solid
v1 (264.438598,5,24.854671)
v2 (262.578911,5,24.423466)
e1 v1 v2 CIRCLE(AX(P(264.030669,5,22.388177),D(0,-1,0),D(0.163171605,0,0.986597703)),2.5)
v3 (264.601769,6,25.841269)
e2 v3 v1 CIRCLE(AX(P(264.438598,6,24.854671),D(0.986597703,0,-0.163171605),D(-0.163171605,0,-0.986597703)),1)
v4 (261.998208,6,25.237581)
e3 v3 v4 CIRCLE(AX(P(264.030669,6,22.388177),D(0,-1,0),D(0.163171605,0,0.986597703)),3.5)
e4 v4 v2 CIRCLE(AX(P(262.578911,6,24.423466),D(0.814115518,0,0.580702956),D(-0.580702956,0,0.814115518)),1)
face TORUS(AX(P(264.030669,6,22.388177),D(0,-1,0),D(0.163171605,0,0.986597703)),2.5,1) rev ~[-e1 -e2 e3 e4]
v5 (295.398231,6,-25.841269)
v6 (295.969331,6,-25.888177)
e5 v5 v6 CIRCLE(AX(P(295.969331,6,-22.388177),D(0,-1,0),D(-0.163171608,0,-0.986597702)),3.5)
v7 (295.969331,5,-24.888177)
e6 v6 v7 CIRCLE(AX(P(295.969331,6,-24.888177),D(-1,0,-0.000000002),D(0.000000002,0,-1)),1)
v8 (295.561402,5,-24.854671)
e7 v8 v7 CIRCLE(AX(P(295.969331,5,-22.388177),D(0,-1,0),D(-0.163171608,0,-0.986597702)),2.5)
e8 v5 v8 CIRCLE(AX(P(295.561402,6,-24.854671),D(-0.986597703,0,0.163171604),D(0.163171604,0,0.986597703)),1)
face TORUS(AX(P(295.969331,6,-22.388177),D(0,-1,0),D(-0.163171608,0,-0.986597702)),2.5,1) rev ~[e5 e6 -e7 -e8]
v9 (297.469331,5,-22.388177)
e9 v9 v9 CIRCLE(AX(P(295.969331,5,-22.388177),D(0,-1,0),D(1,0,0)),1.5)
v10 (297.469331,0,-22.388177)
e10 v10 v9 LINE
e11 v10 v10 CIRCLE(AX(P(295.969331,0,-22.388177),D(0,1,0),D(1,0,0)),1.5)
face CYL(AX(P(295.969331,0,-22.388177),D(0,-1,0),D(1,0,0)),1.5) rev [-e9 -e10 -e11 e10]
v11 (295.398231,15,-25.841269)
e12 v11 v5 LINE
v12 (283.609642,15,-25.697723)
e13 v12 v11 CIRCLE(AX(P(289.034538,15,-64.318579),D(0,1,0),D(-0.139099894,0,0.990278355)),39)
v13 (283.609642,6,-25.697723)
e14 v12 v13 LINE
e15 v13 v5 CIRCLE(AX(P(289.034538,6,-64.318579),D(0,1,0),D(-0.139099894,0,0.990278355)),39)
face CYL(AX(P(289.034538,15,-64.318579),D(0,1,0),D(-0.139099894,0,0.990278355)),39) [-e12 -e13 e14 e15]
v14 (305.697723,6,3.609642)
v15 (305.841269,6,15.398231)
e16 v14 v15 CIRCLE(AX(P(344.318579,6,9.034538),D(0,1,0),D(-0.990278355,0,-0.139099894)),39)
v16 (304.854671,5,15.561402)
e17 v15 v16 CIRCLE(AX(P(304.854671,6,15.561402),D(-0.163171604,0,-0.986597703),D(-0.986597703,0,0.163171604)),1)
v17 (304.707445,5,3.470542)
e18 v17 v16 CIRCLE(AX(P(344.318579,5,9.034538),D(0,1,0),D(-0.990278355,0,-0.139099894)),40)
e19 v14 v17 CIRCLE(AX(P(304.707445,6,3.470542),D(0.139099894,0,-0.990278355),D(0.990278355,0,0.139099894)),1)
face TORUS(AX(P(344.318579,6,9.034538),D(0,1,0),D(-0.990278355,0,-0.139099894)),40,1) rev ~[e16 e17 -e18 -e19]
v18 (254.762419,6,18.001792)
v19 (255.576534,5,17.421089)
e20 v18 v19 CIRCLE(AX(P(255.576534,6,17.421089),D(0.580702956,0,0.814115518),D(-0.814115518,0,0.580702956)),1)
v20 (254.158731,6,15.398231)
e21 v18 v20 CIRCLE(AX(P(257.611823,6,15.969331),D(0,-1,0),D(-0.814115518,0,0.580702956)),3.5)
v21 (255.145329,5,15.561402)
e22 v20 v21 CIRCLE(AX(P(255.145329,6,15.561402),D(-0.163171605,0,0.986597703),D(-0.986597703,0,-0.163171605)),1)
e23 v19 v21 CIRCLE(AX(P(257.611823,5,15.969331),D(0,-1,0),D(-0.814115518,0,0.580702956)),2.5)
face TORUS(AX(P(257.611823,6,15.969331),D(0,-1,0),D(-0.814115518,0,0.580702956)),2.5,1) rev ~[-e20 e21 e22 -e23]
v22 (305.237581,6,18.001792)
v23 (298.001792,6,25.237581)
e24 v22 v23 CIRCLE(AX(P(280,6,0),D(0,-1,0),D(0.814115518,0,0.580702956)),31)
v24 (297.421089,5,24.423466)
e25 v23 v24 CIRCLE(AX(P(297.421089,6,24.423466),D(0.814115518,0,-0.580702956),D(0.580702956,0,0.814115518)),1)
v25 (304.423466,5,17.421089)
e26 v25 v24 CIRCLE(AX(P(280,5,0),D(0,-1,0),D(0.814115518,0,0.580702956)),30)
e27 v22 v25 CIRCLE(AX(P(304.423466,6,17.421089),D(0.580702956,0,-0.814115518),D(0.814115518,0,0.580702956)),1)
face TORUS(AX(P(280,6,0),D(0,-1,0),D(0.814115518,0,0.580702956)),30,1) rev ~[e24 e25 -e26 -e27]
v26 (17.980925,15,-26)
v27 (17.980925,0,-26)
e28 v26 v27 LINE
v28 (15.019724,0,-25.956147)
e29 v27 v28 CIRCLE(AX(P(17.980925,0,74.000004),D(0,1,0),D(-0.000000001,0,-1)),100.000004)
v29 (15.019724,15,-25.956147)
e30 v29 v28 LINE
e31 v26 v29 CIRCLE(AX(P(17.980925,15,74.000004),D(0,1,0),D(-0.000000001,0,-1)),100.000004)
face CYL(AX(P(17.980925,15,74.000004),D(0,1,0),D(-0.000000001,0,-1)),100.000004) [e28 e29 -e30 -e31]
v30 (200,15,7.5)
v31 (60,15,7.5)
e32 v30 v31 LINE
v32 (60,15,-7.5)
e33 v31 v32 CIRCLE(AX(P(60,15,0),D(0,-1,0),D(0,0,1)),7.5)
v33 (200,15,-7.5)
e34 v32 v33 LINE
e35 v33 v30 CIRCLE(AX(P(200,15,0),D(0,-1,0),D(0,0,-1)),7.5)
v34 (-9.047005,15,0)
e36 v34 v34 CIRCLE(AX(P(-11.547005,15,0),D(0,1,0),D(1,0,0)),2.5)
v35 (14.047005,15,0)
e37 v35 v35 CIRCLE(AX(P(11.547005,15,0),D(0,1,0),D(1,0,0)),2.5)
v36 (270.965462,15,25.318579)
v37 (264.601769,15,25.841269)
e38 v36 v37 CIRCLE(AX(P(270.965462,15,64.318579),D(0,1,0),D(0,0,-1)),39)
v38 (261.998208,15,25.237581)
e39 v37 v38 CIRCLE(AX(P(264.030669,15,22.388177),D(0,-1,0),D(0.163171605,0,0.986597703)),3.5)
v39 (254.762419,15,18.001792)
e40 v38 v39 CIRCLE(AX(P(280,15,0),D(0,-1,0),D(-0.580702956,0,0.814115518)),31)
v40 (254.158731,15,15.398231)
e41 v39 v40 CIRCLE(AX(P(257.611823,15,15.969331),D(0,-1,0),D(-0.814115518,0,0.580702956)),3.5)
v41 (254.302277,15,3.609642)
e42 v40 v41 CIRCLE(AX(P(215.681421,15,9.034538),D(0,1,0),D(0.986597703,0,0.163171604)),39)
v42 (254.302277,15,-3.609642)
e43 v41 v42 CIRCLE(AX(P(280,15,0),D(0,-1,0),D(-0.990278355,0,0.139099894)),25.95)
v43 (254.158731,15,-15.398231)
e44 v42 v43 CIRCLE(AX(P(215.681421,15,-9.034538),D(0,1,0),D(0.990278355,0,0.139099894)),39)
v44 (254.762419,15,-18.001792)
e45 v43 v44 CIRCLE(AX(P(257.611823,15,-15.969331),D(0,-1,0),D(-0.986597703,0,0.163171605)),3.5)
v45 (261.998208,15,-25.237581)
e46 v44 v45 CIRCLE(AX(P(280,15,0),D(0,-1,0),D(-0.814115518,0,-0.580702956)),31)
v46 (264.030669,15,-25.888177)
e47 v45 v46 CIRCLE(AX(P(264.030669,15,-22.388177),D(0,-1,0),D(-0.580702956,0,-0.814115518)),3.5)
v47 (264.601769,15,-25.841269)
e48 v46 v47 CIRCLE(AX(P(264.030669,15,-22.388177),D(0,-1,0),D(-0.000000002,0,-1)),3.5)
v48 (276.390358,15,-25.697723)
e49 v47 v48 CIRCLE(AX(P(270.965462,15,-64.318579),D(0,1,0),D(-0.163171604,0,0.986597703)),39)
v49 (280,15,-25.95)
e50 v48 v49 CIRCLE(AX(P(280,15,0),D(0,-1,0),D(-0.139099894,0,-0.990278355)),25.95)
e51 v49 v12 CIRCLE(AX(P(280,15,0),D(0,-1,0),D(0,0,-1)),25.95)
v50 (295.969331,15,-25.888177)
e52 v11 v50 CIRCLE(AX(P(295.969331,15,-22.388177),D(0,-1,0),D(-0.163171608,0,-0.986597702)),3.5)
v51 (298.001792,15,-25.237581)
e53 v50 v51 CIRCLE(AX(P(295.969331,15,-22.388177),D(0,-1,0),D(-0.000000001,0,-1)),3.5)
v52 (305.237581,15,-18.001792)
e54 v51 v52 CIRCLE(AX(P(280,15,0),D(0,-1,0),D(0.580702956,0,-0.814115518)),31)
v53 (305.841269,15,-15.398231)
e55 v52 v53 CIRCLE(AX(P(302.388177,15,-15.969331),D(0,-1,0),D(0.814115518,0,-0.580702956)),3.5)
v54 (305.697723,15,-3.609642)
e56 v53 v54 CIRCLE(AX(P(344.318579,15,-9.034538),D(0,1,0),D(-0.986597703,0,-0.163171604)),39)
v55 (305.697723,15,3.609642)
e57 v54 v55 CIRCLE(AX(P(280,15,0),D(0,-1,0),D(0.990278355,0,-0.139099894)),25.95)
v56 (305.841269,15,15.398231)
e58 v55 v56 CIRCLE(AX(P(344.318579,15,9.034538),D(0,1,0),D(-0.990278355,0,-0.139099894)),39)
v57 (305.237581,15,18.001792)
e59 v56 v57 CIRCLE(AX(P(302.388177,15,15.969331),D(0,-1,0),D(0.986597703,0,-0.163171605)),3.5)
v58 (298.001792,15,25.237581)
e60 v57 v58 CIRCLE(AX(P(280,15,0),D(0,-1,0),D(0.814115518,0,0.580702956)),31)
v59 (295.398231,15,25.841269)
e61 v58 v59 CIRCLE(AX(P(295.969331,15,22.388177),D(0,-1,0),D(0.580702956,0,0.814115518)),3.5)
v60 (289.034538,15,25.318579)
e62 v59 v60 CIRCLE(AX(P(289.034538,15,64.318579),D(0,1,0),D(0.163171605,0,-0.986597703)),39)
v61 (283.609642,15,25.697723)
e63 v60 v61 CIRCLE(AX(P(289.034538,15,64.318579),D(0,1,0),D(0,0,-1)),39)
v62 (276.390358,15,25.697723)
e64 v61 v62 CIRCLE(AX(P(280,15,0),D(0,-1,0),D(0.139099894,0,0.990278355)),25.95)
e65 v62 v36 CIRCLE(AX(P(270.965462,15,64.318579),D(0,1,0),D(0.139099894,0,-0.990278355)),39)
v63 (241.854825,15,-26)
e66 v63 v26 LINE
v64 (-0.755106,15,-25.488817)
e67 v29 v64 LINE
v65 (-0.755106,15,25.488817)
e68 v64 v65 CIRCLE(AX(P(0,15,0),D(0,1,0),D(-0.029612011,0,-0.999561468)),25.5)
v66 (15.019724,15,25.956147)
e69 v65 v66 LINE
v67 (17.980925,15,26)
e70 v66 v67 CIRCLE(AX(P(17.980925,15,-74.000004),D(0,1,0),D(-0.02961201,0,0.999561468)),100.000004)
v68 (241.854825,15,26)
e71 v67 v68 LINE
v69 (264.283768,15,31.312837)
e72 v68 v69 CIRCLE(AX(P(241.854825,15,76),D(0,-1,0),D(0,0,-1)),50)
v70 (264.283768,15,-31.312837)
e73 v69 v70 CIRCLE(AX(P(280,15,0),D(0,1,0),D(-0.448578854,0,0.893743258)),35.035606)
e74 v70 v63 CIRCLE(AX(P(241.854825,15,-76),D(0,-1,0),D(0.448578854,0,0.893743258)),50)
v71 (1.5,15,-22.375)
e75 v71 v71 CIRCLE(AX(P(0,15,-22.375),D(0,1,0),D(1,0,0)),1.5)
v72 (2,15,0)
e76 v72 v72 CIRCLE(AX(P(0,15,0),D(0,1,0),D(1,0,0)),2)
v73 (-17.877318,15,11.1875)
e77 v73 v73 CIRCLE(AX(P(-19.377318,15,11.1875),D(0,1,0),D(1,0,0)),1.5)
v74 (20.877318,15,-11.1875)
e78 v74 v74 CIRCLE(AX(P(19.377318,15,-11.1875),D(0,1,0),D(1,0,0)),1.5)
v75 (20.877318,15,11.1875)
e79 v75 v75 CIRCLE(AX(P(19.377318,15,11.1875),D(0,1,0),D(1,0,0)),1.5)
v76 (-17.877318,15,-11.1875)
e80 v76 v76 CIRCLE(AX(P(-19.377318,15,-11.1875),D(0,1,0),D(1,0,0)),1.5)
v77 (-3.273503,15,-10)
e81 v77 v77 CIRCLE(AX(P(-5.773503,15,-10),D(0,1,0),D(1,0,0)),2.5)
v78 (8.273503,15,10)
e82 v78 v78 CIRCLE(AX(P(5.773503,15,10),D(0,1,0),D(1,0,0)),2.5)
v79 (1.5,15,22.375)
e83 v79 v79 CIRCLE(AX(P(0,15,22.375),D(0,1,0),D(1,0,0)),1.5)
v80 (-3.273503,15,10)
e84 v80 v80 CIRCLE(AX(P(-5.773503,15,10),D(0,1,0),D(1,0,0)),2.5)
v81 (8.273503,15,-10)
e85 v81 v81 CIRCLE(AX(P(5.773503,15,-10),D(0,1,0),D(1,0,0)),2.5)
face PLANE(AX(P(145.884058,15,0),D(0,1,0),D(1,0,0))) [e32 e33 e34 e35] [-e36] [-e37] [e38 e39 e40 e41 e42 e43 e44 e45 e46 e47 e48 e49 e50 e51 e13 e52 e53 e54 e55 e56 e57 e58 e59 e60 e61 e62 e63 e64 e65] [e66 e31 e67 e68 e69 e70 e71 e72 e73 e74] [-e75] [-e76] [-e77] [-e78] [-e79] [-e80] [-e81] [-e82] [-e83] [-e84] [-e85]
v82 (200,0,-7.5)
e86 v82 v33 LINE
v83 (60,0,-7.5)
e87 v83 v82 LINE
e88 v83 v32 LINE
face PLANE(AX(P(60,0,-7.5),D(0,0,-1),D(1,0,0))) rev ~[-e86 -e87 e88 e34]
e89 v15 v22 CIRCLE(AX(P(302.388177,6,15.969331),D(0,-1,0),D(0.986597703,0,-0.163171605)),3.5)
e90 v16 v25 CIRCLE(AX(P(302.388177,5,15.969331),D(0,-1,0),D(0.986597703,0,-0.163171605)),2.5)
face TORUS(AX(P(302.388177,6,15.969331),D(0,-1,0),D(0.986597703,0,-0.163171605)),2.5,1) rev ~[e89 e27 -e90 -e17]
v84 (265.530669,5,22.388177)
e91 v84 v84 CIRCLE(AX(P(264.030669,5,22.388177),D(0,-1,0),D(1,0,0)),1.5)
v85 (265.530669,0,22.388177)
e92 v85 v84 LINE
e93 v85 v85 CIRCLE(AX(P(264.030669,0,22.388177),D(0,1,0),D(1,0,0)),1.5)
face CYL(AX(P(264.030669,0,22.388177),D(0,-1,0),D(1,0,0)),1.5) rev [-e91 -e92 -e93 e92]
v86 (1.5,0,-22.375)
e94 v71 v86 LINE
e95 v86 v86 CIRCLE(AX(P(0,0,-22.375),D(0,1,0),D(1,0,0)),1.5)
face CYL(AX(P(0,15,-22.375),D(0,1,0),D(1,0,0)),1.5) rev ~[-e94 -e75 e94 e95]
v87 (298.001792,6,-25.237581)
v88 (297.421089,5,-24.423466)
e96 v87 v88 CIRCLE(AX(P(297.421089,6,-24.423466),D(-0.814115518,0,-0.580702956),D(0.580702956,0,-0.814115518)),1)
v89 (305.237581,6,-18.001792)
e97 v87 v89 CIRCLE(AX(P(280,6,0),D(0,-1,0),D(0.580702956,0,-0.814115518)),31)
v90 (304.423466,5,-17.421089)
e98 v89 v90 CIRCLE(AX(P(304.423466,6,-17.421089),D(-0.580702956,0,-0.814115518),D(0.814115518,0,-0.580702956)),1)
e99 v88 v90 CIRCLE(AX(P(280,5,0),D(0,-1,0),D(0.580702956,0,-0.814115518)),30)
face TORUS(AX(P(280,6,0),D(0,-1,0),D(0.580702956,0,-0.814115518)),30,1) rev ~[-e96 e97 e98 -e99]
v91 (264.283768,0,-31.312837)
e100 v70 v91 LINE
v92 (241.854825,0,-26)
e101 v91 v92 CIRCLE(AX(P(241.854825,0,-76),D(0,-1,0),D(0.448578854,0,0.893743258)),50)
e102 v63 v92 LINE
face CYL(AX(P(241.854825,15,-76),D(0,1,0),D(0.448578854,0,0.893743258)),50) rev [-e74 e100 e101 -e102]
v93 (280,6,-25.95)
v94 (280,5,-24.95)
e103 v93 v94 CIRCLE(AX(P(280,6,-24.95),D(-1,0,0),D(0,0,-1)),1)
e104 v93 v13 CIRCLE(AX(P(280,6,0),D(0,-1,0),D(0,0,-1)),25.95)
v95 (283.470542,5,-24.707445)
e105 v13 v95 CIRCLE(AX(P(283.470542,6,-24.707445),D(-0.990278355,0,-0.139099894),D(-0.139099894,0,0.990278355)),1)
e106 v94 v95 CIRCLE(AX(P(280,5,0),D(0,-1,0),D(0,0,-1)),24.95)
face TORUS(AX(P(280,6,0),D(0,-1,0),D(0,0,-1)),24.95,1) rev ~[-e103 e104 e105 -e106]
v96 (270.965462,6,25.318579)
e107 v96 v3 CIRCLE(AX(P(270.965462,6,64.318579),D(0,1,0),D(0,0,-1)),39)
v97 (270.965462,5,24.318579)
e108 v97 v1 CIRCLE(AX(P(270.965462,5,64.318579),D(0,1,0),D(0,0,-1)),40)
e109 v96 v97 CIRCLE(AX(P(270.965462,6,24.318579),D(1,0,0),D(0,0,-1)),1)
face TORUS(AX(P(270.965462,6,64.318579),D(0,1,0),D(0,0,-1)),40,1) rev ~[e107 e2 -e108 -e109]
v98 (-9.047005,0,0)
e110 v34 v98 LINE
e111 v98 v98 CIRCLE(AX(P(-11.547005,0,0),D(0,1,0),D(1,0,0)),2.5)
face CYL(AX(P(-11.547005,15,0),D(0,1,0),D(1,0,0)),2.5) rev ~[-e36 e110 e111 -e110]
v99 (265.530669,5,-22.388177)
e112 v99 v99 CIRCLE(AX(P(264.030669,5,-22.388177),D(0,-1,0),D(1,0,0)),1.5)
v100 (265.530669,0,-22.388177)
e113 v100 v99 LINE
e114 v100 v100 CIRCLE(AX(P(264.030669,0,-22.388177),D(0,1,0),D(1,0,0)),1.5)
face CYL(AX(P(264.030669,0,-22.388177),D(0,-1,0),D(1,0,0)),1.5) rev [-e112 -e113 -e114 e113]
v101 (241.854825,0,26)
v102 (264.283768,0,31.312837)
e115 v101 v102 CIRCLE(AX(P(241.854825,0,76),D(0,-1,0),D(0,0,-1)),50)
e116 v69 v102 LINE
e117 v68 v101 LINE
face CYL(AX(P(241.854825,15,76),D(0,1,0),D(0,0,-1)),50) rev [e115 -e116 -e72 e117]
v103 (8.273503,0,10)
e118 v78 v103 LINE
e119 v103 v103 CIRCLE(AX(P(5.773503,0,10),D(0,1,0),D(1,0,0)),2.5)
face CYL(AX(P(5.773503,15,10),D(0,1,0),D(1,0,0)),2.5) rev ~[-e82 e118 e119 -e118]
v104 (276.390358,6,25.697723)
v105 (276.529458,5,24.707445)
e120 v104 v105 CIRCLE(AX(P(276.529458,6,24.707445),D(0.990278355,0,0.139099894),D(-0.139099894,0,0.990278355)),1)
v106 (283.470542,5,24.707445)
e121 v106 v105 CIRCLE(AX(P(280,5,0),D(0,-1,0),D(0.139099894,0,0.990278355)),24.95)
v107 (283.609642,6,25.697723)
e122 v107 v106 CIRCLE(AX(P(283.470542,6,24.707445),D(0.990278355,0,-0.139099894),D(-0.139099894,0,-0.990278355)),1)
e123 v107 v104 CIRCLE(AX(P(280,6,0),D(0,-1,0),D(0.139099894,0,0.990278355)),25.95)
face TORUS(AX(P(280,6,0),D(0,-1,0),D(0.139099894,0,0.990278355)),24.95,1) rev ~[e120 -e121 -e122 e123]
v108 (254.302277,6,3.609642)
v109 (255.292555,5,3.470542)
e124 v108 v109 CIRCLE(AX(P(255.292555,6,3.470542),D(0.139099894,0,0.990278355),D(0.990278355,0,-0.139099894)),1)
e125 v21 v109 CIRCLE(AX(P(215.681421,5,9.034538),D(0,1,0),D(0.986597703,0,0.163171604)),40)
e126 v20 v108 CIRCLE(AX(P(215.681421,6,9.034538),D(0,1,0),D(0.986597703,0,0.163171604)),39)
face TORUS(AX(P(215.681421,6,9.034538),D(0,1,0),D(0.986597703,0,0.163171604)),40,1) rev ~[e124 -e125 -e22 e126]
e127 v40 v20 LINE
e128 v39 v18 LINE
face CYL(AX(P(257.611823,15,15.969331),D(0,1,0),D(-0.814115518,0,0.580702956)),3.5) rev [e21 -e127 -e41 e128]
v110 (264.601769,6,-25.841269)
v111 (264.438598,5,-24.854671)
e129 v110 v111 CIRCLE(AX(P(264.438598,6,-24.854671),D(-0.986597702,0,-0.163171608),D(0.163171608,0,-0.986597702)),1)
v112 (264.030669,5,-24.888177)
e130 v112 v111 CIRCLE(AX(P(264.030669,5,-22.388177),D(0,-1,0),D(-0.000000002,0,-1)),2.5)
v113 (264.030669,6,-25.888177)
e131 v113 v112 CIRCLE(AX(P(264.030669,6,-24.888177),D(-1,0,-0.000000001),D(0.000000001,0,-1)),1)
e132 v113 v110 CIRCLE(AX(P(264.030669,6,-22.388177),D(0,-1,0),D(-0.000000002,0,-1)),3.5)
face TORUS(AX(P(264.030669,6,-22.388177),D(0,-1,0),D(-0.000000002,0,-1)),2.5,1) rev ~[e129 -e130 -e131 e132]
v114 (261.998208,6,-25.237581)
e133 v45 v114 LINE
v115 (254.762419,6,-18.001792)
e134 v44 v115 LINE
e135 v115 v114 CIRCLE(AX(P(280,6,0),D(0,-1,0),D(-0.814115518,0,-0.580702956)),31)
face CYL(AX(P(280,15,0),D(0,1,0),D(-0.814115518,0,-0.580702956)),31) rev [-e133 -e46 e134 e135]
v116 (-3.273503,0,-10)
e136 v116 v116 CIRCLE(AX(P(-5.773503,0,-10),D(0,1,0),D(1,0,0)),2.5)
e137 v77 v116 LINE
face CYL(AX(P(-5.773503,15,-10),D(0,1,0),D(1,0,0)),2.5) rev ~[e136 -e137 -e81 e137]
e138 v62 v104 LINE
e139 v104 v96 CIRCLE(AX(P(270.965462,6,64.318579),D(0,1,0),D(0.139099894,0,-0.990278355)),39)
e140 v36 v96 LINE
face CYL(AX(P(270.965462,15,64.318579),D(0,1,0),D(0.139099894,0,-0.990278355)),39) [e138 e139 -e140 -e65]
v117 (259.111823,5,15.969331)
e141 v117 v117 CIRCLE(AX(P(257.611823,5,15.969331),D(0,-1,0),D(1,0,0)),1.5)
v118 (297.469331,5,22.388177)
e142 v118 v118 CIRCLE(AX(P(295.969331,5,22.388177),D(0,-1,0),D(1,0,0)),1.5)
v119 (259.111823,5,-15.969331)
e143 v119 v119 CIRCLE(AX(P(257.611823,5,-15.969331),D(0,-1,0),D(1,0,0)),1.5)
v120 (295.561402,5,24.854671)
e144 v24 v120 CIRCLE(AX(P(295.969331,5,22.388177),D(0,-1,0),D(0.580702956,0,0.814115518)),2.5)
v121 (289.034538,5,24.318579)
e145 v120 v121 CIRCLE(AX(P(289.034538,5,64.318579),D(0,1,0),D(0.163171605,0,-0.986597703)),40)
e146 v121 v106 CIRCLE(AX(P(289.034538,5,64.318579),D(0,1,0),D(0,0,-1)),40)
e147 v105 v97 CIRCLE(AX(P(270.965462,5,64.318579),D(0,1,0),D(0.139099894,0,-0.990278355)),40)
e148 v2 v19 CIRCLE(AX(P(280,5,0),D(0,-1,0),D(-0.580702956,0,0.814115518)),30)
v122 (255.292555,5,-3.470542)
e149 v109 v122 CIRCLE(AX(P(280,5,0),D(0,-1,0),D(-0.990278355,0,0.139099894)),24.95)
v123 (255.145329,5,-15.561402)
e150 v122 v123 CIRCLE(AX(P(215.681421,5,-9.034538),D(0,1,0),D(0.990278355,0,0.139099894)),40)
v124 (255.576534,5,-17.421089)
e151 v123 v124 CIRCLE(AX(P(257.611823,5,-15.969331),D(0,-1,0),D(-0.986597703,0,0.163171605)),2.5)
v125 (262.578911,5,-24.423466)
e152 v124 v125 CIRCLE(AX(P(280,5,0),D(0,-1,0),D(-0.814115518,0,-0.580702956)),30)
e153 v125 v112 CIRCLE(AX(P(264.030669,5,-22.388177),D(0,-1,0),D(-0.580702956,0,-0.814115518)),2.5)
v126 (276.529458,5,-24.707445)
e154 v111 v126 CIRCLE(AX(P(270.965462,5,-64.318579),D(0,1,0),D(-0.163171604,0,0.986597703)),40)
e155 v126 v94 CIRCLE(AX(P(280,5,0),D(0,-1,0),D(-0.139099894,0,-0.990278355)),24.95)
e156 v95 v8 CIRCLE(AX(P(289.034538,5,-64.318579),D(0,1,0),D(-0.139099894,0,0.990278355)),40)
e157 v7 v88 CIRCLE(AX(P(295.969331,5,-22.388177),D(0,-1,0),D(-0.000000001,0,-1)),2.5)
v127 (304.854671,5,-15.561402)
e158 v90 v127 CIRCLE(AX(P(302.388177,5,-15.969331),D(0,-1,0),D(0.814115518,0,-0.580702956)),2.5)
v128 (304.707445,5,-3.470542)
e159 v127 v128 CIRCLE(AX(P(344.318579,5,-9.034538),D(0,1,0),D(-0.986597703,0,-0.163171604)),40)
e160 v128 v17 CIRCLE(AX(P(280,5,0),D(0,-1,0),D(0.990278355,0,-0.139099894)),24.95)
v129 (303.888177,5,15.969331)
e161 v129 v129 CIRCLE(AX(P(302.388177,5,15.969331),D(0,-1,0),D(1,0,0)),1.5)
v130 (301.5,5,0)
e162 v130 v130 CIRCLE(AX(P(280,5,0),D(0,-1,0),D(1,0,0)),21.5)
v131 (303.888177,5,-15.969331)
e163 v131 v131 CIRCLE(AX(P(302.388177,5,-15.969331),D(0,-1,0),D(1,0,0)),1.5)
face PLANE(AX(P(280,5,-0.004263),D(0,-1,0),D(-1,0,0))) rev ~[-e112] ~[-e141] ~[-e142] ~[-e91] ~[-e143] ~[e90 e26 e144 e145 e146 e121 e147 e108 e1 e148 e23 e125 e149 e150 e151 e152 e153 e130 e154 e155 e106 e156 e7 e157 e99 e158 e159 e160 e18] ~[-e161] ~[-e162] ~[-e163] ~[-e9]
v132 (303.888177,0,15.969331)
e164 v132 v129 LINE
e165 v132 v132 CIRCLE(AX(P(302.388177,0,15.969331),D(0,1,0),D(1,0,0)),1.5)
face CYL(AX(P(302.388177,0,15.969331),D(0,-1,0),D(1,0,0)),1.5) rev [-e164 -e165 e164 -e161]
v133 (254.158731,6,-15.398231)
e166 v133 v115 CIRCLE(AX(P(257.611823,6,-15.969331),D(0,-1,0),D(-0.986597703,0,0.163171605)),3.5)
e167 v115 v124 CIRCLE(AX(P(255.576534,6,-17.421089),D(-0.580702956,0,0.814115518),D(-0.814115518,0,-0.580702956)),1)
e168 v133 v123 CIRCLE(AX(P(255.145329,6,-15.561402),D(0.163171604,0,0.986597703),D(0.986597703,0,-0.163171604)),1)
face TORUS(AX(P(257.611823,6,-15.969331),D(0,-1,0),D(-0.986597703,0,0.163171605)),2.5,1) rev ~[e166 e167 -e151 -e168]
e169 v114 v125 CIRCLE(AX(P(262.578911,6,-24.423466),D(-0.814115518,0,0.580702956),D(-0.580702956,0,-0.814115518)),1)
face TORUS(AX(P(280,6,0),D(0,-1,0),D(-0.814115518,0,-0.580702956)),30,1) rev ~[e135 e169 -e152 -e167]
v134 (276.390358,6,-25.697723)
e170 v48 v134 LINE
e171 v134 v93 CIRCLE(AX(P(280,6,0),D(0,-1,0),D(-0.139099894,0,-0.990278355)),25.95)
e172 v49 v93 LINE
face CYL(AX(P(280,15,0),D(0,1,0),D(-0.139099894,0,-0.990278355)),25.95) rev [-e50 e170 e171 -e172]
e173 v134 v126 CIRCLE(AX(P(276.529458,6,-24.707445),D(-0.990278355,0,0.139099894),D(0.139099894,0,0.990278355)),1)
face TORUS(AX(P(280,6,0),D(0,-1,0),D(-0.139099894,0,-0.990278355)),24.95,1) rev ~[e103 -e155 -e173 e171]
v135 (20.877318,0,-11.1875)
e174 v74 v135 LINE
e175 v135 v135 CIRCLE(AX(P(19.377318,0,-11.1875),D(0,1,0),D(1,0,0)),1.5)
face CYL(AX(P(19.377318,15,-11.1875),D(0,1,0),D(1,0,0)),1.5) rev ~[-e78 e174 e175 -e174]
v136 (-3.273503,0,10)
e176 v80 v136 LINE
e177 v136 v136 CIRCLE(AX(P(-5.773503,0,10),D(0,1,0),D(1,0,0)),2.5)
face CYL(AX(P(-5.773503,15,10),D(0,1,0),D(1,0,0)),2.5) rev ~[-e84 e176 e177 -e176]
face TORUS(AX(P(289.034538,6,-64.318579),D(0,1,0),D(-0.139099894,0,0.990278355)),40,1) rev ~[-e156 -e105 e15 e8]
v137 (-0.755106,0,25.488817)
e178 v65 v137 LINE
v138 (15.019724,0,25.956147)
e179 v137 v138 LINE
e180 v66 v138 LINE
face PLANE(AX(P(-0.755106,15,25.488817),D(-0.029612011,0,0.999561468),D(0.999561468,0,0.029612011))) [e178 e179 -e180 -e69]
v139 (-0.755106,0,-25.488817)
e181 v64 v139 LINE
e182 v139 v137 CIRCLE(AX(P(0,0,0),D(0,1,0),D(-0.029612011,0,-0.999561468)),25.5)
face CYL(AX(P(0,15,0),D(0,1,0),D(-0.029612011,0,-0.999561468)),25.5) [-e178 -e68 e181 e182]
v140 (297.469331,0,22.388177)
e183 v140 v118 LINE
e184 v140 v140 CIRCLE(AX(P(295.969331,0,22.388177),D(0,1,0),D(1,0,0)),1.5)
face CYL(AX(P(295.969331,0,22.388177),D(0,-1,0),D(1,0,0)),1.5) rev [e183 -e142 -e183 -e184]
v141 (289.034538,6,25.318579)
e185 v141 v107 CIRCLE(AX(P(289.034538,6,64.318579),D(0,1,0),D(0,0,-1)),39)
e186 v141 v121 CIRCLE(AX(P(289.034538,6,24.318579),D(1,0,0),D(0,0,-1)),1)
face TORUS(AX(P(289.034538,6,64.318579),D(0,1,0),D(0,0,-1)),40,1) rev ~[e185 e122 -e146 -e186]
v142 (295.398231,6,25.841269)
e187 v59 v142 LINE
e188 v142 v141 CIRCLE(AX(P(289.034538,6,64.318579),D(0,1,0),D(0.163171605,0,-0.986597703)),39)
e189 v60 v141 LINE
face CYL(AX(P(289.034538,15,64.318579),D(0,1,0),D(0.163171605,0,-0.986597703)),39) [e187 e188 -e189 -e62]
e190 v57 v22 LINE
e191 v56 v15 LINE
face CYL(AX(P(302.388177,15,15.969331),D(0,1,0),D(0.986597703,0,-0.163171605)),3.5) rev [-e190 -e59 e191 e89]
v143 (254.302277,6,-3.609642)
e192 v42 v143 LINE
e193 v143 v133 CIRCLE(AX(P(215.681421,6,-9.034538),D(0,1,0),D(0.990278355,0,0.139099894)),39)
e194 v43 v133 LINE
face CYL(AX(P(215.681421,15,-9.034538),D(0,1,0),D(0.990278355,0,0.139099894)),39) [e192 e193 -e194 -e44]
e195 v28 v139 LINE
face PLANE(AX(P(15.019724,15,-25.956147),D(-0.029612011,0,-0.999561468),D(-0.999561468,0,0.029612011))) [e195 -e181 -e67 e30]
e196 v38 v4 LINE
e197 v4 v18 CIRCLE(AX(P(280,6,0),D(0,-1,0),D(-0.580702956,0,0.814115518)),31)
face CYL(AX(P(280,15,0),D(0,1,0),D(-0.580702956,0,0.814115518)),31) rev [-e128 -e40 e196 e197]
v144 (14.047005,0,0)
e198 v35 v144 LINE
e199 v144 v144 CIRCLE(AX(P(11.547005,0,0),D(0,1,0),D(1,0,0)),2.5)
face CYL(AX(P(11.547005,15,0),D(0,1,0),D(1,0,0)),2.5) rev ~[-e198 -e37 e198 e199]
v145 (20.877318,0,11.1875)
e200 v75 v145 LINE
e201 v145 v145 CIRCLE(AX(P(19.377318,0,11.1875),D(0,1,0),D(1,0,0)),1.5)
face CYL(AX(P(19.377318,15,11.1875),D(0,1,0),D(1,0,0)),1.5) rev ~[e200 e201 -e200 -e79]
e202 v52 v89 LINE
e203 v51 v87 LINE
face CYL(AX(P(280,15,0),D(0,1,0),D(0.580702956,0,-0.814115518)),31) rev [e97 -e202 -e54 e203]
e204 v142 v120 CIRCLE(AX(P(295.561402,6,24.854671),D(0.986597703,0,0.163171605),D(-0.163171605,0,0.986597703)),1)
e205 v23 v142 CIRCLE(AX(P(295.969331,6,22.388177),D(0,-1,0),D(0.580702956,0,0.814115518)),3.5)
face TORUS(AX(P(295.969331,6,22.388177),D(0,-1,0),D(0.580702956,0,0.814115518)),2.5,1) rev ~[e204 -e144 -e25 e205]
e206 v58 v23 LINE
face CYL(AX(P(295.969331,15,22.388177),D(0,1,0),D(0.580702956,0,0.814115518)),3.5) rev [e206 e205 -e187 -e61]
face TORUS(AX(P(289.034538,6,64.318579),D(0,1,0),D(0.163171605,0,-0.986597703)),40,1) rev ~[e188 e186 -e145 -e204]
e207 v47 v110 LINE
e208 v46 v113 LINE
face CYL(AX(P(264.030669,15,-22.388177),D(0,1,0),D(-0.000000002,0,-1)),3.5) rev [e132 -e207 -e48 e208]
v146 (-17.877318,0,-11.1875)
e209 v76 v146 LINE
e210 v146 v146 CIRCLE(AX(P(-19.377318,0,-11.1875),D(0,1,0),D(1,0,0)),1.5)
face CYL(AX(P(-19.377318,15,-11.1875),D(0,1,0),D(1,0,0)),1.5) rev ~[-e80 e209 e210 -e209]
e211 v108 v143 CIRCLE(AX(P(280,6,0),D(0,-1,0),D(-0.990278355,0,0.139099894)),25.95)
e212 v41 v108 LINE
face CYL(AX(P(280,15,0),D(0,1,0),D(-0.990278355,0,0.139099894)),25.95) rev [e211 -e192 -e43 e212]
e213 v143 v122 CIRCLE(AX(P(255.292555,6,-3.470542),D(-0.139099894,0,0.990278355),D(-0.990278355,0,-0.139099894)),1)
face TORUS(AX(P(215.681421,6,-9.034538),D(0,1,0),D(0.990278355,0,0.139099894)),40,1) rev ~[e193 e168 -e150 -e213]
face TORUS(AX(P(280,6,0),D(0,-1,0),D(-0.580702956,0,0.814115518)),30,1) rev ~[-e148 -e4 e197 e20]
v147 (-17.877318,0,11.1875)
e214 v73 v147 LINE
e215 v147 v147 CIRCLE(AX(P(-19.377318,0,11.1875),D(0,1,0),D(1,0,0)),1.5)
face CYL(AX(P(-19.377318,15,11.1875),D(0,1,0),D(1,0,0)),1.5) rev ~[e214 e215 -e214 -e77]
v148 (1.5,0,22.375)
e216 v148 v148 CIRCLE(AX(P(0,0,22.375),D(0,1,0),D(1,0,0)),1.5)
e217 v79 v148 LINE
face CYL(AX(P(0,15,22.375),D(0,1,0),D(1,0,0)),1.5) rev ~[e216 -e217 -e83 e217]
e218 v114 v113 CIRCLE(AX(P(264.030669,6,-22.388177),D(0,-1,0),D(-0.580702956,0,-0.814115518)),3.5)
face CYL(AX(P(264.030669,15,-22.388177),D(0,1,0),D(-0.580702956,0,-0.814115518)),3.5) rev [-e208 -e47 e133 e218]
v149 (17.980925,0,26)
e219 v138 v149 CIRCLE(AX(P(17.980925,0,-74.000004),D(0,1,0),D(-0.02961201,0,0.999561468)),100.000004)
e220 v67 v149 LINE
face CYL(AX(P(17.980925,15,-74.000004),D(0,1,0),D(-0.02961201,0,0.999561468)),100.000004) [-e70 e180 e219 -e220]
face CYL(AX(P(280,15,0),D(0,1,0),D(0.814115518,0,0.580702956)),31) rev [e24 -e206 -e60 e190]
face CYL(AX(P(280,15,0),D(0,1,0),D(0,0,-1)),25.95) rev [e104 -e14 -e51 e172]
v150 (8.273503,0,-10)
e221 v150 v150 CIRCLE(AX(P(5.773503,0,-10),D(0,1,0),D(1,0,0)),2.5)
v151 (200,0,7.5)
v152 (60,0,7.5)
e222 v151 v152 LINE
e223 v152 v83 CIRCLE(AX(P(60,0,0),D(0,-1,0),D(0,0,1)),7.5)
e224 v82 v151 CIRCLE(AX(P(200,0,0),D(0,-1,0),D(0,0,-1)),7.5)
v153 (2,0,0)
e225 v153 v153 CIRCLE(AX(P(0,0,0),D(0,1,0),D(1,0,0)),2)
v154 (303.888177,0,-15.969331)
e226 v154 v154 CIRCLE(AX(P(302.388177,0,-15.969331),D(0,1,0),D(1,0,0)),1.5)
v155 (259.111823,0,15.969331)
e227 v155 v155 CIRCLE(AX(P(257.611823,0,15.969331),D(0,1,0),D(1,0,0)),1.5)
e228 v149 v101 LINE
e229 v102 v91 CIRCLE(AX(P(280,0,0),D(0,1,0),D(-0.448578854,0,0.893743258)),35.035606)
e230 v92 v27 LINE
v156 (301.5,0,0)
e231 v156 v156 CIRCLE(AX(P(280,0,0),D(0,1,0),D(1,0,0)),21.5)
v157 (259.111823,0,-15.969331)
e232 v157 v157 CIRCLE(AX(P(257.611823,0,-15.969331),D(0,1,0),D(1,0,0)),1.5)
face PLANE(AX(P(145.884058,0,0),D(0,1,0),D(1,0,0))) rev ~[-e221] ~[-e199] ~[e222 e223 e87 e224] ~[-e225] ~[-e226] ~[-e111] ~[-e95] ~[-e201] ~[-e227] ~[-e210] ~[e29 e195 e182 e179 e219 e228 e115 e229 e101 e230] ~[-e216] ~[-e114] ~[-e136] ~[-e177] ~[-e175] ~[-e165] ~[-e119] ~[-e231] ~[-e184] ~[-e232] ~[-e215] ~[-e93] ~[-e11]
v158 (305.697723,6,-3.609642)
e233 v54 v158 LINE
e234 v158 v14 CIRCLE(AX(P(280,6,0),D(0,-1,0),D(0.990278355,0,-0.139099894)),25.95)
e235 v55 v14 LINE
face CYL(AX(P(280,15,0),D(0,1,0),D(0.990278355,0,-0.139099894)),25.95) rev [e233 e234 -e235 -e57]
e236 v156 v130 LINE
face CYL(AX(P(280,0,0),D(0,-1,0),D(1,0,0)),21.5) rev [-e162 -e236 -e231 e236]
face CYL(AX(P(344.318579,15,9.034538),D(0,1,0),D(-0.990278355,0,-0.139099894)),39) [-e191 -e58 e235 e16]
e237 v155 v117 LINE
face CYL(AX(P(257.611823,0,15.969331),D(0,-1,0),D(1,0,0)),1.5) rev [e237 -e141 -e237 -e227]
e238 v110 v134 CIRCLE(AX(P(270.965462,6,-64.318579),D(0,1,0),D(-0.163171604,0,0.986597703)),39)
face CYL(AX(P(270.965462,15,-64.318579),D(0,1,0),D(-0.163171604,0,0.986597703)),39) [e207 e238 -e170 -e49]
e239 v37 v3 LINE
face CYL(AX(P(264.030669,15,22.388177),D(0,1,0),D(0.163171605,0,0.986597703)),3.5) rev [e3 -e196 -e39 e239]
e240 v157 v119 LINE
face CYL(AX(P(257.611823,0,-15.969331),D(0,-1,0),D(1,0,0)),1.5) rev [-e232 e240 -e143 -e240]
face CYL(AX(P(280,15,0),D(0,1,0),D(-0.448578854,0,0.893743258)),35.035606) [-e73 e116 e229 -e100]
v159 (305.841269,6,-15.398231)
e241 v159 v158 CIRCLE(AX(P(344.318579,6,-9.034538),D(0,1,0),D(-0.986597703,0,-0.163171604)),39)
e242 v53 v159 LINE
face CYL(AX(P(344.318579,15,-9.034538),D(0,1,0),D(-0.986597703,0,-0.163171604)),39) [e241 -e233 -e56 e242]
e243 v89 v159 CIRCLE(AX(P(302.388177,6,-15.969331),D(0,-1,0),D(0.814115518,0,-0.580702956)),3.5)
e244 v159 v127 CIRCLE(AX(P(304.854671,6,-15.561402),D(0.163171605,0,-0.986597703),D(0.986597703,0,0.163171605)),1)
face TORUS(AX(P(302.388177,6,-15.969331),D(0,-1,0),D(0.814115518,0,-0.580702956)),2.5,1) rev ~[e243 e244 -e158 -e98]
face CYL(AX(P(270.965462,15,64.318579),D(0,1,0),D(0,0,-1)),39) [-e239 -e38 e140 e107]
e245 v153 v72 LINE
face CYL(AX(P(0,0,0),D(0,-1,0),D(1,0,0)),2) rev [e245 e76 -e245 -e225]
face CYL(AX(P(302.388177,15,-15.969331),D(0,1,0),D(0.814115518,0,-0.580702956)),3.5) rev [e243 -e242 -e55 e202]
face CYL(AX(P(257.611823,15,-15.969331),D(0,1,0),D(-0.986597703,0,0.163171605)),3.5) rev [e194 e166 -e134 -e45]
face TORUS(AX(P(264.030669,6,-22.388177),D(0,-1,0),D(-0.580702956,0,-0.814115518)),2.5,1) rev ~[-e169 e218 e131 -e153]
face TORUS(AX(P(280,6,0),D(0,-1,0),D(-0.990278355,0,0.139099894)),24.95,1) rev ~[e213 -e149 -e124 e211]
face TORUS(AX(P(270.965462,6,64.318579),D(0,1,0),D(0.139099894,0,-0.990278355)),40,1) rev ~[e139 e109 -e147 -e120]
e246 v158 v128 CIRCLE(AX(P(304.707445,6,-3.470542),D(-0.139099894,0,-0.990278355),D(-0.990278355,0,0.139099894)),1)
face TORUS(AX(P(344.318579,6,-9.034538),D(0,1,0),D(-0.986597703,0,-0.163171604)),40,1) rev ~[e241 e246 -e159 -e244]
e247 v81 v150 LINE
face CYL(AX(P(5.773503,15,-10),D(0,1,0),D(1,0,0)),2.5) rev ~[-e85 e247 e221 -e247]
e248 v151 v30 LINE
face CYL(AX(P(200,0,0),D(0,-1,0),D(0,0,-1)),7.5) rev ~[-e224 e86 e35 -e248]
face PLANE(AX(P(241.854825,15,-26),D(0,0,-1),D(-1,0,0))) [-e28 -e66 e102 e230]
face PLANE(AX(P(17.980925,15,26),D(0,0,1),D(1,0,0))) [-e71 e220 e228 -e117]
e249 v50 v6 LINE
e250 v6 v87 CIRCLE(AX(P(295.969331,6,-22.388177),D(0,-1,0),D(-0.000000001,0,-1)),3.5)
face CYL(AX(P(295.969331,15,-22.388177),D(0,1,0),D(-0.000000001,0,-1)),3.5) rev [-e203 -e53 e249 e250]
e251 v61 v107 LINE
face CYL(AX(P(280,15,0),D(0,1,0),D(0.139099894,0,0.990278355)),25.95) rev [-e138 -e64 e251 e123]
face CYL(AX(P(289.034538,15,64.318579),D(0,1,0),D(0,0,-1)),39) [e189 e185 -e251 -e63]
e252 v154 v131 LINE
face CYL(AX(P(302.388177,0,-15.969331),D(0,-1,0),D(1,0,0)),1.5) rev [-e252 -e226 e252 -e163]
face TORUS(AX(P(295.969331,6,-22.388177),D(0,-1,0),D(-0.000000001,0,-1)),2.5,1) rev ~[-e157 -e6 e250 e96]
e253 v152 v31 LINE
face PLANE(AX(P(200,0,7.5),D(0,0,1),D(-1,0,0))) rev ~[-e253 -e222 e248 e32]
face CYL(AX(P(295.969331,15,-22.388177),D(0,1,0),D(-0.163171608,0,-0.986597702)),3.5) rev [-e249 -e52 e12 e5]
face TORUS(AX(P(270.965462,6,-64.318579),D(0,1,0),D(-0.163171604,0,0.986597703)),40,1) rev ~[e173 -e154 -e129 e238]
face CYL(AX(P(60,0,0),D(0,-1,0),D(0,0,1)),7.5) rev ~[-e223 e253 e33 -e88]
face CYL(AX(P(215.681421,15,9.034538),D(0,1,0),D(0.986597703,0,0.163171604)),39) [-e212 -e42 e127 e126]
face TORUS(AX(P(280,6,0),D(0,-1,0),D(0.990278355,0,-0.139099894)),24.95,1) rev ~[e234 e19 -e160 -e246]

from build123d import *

# Parameters (mm, degrees)
SKETCH_1_R          = 1.5
SKETCH_1_R_2        = 21.5
SKETCH_1_R_3        = 2
EXTRUDE_1_DEPTH     = 15
SKETCH_3_R          = 2.5
SKETCH_3_R_2        = 1.5
CUT_EXTRUDE_1_DEPTH = 16
CUT_EXTRUDE_2_DEPTH = 10
FILLET_1_R          = 1
SKETCH_5_R          = 1.5
SKETCH_5_R_2        = 2.5
SKETCH_5_R_3        = 2
SKETCH_5_R_4        = 32.035606478
EXTRUDE_2_DEPTH     = 15


with BuildPart() as part:
    # 草图1 → 凸台-拉伸1 (new body)
    with BuildSketch(Plane(origin=(0, 0, 0), x_dir=(1, 0, 0), z_dir=(0, 1, 0))):
        with BuildLine():
            Line((21.685248442, 20), (239.195588474, 20))
            ThreePointArc((239.195588474, 20), (248.856506305, 21.719462207), (257.330882485, 26.666666667))
            ThreePointArc((257.330882485, 26.666666667), (315, 0), (257.330882485, -26.666666667))
            ThreePointArc((257.330882485, -26.666666667), (248.856506305, -21.719462207), (239.195588474, -20))
            Line((239.195588474, -20), (21.685248442, -20))
            ThreePointArc((21.685248442, -20), (16.768356723, -20.61381482), (12.153271105, -22.417582418))
            ThreePointArc((12.153271105, -22.417582418), (-25.5, 0), (12.153271105, 22.417582418))
            ThreePointArc((12.153271105, 22.417582418), (16.768356723, 20.61381482), (21.685248442, 20))
        make_face()
        with Locations((302.388176755, -15.969331282)):
            Circle(SKETCH_1_R, mode=Mode.SUBTRACT)
        with Locations((264.030668718, 22.388176755)):
            Circle(SKETCH_1_R, mode=Mode.SUBTRACT)
        with Locations((302.388176755, 15.969331282)):
            Circle(SKETCH_1_R, mode=Mode.SUBTRACT)
        with Locations((264.030668718, -22.388176755)):
            Circle(SKETCH_1_R, mode=Mode.SUBTRACT)
        with Locations((295.969331282, -22.388176755)):
            Circle(SKETCH_1_R, mode=Mode.SUBTRACT)
        with Locations((257.611823245, 15.969331282)):
            Circle(SKETCH_1_R, mode=Mode.SUBTRACT)
        with Locations((257.611823245, -15.969331282)):
            Circle(SKETCH_1_R, mode=Mode.SUBTRACT)
        with Locations((295.969331282, 22.388176755)):
            Circle(SKETCH_1_R, mode=Mode.SUBTRACT)
        with Locations((280, 0)):
            Circle(SKETCH_1_R_2, mode=Mode.SUBTRACT)
        Circle(SKETCH_1_R_3, mode=Mode.SUBTRACT)
        with BuildLine():
            Line((60, 7.5), (200, 7.5))
            ThreePointArc((200, 7.5), (207.5, 0), (200, -7.5))
            Line((200, -7.5), (60, -7.5))
            ThreePointArc((60, -7.5), (52.5, 0), (60, 7.5))
        make_face(mode=Mode.SUBTRACT)
    extrude(amount=EXTRUDE_1_DEPTH)

    # 草图3 → 切除-拉伸1 (cut, through all)
    with BuildSketch(Plane(origin=(0, 15, 0), x_dir=(1, 0, 0), z_dir=(0, 1, 0))):
        with Locations((-5.773502692, -10)):
            Circle(SKETCH_3_R)
        with Locations((-11.547005384, 0)):
            Circle(SKETCH_3_R)
        with Locations((-5.773502692, 10)):
            Circle(SKETCH_3_R)
        with Locations((5.773502692, 10)):
            Circle(SKETCH_3_R)
        with Locations((11.547005384, 0)):
            Circle(SKETCH_3_R)
        with Locations((5.773502692, -10)):
            Circle(SKETCH_3_R)
        with Locations((0, -22.375)):
            Circle(SKETCH_3_R_2)
        with Locations((-19.37731841, -11.1875)):
            Circle(SKETCH_3_R_2)
        with Locations((-19.37731841, 11.1875)):
            Circle(SKETCH_3_R_2)
        with Locations((0, 22.375)):
            Circle(SKETCH_3_R_2)
        with Locations((19.37731841, 11.1875)):
            Circle(SKETCH_3_R_2)
        with Locations((19.37731841, -11.1875)):
            Circle(SKETCH_3_R_2)
    extrude(amount=-CUT_EXTRUDE_1_DEPTH, mode=Mode.SUBTRACT)

    # 草图4 → 切除-拉伸2 (cut)
    with BuildSketch(Plane(origin=(0, 15, 0), x_dir=(1, 0, 0), z_dir=(0, 1, 0))):
        with BuildLine():
            ThreePointArc((283.609642241, 25.697723302), (289.509391905, 25.321470086), (295.398230667, 25.841268715))
            ThreePointArc((295.398230667, 25.841268715), (295.682819381, 25.876430033), (295.969331282, 25.888176755))
            ThreePointArc((295.969331282, 25.888176755), (297.036356329, 25.721562054), (298.001791627, 25.237581069))
            ThreePointArc((298.001791627, 25.237581069), (301.920310217, 21.920310217), (305.237581069, 18.001791627))
            ThreePointArc((305.237581069, 18.001791627), (305.797721775, 16.759902442), (305.841268715, 15.398230667))
            ThreePointArc((305.841268715, 15.398230667), (305.321470086, 9.509391905), (305.697723302, 3.609642241))
            ThreePointArc((305.697723302, 3.609642241), (305.95, 0), (305.697723302, -3.609642241))
            ThreePointArc((305.697723302, -3.609642241), (305.321470086, -9.509391905), (305.841268715, -15.398230667))
            ThreePointArc((305.841268715, -15.398230667), (305.797721775, -16.759902442), (305.237581069, -18.001791627))
            ThreePointArc((305.237581069, -18.001791627), (301.920310217, -21.920310217), (298.001791627, -25.237581069))
            ThreePointArc((298.001791627, -25.237581069), (296.759902442, -25.797721775), (295.398230667, -25.841268715))
            ThreePointArc((295.398230667, -25.841268715), (292.227099274, -25.449471177), (289.034538094, -25.318579131))
            ThreePointArc((289.034538094, -25.318579131), (286.315473672, -25.413480639), (283.609642241, -25.697723302))
            ThreePointArc((283.609642241, -25.697723302), (280, -25.95), (276.390357759, -25.697723302))
            ThreePointArc((276.390357759, -25.697723302), (273.684526328, -25.413480639), (270.965461906, -25.318579131))
            ThreePointArc((270.965461906, -25.318579131), (267.772900726, -25.449471177), (264.601769333, -25.841268715))
            ThreePointArc((264.601769333, -25.841268715), (263.240097558, -25.797721775), (261.998208373, -25.237581069))
            ThreePointArc((261.998208373, -25.237581069), (258.079689783, -21.920310217), (254.762418931, -18.001791627))
            ThreePointArc((254.762418931, -18.001791627), (254.202278225, -16.759902442), (254.158731285, -15.398230667))
            ThreePointArc((254.158731285, -15.398230667), (254.678529914, -9.509391905), (254.302276698, -3.609642241))
            ThreePointArc((254.302276698, -3.609642241), (254.05, 0), (254.302276698, 3.609642241))
            ThreePointArc((254.302276698, 3.609642241), (254.678529914, 9.509391905), (254.158731285, 15.398230667))
            ThreePointArc((254.158731285, 15.398230667), (254.202278225, 16.759902442), (254.762418931, 18.001791627))
            ThreePointArc((254.762418931, 18.001791627), (258.079689783, 21.920310217), (261.998208373, 25.237581069))
            ThreePointArc((261.998208373, 25.237581069), (262.963643671, 25.721562054), (264.030668718, 25.888176755))
            ThreePointArc((264.030668718, 25.888176755), (264.317180619, 25.876430033), (264.601769333, 25.841268715))
            ThreePointArc((264.601769333, 25.841268715), (270.490608095, 25.321470086), (276.390357759, 25.697723302))
            ThreePointArc((276.390357759, 25.697723302), (278.190776366, 25.886853997), (280, 25.95))
            ThreePointArc((280, 25.95), (281.809223634, 25.886853997), (283.609642241, 25.697723302))
        make_face()
    extrude(amount=-CUT_EXTRUDE_2_DEPTH, mode=Mode.SUBTRACT)

    # 圆角1
    fillet_1_edges = [part.edges().sort_by_distance(p)[0] for p in [
        (289.509391905, 5, -25.321470086),
        (296.759902442, 5, -25.797721775),
        (301.920310217, 5, -21.920310217),
        (305.797721775, 5, -16.759902442),
        (305.321470086, 5, -9.509391905),
        (305.95, 5, 0),
        (305.321470086, 5, 9.509391905),
        (305.797721775, 5, 16.759902442),
        (301.920310217, 5, 21.920310217),
        (296.759902442, 5, 25.797721775),
        (289.509391905, 5, 25.321470086),
        (280, 5, 25.95),
        (270.490608095, 5, 25.321470086),
        (263.240097558, 5, 25.797721775),
        (258.079689783, 5, 21.920310217),
        (254.202278225, 5, 16.759902442),
        (254.678529914, 5, 9.509391905),
        (254.05, 5, 0),
        (254.678529914, 5, -9.509391905),
        (254.202278225, 5, -16.759902442),
        (258.079689783, 5, -21.920310217),
        (263.240097558, 5, -25.797721775),
        (270.490608095, 5, -25.321470086),
        (280, 5, -25.95),
    ]]
    fillet(fillet_1_edges, radius=FILLET_1_R)

    # 草图5 → 凸台-拉伸2 (add)
    with BuildSketch(Plane(origin=(0, 15, 0), x_dir=(1, 0, 0), z_dir=(0, 1, 0))):
        with BuildLine():
            Line((-0.75510627, -25.488817441), (15.019724187, -25.956146826))
            ThreePointArc((15.019724187, -25.956146826), (16.500162367, -25.989036105), (17.980925246, -26))
            Line((17.980925246, -26), (241.854825088, -26))
            ThreePointArc((241.854825088, -26), (253.379621277, -27.346335464), (264.283767793, -31.312837088))
            ThreePointArc((264.283767793, -31.312837088), (315.035606478, 0), (264.283767793, 31.312837088))
            ThreePointArc((264.283767793, 31.312837088), (253.379621277, 27.346335464), (241.854825088, 26))
            Line((241.854825088, 26), (17.980925246, 26))
            ThreePointArc((17.980925246, 26), (16.500162367, 25.989036105), (15.019724187, 25.956146826))
            Line((15.019724187, 25.956146826), (-0.75510627, 25.488817441))
            ThreePointArc((-0.75510627, 25.488817441), (-25.5, 0), (-0.75510627, -25.488817441))
        make_face()
        with Locations((0, -22.375)):
            Circle(SKETCH_5_R, mode=Mode.SUBTRACT)
        with Locations((-19.37731841, -11.1875)):
            Circle(SKETCH_5_R, mode=Mode.SUBTRACT)
        with Locations((-5.773502692, -10)):
            Circle(SKETCH_5_R_2, mode=Mode.SUBTRACT)
        with Locations((19.37731841, -11.1875)):
            Circle(SKETCH_5_R, mode=Mode.SUBTRACT)
        with Locations((5.773502692, -10)):
            Circle(SKETCH_5_R_2, mode=Mode.SUBTRACT)
        with Locations((11.547005384, 0)):
            Circle(SKETCH_5_R_2, mode=Mode.SUBTRACT)
        Circle(SKETCH_5_R_3, mode=Mode.SUBTRACT)
        with Locations((-11.547005384, 0)):
            Circle(SKETCH_5_R_2, mode=Mode.SUBTRACT)
        with Locations((-19.37731841, 11.1875)):
            Circle(SKETCH_5_R, mode=Mode.SUBTRACT)
        with Locations((-5.773502692, 10)):
            Circle(SKETCH_5_R_2, mode=Mode.SUBTRACT)
        with Locations((5.773502692, 10)):
            Circle(SKETCH_5_R_2, mode=Mode.SUBTRACT)
        with Locations((19.37731841, 11.1875)):
            Circle(SKETCH_5_R, mode=Mode.SUBTRACT)
        with Locations((0, 22.375)):
            Circle(SKETCH_5_R, mode=Mode.SUBTRACT)
        with Locations((280, 0)):
            Circle(SKETCH_5_R_4, mode=Mode.SUBTRACT)
        with BuildLine():
            Line((60, -7.5), (200, -7.5))
            ThreePointArc((200, -7.5), (207.5, 0), (200, 7.5))
            Line((200, 7.5), (60, 7.5))
            ThreePointArc((60, 7.5), (52.5, 0), (60, -7.5))
        make_face(mode=Mode.SUBTRACT)
    extrude(amount=-EXTRUDE_2_DEPTH)


solid = part.part
